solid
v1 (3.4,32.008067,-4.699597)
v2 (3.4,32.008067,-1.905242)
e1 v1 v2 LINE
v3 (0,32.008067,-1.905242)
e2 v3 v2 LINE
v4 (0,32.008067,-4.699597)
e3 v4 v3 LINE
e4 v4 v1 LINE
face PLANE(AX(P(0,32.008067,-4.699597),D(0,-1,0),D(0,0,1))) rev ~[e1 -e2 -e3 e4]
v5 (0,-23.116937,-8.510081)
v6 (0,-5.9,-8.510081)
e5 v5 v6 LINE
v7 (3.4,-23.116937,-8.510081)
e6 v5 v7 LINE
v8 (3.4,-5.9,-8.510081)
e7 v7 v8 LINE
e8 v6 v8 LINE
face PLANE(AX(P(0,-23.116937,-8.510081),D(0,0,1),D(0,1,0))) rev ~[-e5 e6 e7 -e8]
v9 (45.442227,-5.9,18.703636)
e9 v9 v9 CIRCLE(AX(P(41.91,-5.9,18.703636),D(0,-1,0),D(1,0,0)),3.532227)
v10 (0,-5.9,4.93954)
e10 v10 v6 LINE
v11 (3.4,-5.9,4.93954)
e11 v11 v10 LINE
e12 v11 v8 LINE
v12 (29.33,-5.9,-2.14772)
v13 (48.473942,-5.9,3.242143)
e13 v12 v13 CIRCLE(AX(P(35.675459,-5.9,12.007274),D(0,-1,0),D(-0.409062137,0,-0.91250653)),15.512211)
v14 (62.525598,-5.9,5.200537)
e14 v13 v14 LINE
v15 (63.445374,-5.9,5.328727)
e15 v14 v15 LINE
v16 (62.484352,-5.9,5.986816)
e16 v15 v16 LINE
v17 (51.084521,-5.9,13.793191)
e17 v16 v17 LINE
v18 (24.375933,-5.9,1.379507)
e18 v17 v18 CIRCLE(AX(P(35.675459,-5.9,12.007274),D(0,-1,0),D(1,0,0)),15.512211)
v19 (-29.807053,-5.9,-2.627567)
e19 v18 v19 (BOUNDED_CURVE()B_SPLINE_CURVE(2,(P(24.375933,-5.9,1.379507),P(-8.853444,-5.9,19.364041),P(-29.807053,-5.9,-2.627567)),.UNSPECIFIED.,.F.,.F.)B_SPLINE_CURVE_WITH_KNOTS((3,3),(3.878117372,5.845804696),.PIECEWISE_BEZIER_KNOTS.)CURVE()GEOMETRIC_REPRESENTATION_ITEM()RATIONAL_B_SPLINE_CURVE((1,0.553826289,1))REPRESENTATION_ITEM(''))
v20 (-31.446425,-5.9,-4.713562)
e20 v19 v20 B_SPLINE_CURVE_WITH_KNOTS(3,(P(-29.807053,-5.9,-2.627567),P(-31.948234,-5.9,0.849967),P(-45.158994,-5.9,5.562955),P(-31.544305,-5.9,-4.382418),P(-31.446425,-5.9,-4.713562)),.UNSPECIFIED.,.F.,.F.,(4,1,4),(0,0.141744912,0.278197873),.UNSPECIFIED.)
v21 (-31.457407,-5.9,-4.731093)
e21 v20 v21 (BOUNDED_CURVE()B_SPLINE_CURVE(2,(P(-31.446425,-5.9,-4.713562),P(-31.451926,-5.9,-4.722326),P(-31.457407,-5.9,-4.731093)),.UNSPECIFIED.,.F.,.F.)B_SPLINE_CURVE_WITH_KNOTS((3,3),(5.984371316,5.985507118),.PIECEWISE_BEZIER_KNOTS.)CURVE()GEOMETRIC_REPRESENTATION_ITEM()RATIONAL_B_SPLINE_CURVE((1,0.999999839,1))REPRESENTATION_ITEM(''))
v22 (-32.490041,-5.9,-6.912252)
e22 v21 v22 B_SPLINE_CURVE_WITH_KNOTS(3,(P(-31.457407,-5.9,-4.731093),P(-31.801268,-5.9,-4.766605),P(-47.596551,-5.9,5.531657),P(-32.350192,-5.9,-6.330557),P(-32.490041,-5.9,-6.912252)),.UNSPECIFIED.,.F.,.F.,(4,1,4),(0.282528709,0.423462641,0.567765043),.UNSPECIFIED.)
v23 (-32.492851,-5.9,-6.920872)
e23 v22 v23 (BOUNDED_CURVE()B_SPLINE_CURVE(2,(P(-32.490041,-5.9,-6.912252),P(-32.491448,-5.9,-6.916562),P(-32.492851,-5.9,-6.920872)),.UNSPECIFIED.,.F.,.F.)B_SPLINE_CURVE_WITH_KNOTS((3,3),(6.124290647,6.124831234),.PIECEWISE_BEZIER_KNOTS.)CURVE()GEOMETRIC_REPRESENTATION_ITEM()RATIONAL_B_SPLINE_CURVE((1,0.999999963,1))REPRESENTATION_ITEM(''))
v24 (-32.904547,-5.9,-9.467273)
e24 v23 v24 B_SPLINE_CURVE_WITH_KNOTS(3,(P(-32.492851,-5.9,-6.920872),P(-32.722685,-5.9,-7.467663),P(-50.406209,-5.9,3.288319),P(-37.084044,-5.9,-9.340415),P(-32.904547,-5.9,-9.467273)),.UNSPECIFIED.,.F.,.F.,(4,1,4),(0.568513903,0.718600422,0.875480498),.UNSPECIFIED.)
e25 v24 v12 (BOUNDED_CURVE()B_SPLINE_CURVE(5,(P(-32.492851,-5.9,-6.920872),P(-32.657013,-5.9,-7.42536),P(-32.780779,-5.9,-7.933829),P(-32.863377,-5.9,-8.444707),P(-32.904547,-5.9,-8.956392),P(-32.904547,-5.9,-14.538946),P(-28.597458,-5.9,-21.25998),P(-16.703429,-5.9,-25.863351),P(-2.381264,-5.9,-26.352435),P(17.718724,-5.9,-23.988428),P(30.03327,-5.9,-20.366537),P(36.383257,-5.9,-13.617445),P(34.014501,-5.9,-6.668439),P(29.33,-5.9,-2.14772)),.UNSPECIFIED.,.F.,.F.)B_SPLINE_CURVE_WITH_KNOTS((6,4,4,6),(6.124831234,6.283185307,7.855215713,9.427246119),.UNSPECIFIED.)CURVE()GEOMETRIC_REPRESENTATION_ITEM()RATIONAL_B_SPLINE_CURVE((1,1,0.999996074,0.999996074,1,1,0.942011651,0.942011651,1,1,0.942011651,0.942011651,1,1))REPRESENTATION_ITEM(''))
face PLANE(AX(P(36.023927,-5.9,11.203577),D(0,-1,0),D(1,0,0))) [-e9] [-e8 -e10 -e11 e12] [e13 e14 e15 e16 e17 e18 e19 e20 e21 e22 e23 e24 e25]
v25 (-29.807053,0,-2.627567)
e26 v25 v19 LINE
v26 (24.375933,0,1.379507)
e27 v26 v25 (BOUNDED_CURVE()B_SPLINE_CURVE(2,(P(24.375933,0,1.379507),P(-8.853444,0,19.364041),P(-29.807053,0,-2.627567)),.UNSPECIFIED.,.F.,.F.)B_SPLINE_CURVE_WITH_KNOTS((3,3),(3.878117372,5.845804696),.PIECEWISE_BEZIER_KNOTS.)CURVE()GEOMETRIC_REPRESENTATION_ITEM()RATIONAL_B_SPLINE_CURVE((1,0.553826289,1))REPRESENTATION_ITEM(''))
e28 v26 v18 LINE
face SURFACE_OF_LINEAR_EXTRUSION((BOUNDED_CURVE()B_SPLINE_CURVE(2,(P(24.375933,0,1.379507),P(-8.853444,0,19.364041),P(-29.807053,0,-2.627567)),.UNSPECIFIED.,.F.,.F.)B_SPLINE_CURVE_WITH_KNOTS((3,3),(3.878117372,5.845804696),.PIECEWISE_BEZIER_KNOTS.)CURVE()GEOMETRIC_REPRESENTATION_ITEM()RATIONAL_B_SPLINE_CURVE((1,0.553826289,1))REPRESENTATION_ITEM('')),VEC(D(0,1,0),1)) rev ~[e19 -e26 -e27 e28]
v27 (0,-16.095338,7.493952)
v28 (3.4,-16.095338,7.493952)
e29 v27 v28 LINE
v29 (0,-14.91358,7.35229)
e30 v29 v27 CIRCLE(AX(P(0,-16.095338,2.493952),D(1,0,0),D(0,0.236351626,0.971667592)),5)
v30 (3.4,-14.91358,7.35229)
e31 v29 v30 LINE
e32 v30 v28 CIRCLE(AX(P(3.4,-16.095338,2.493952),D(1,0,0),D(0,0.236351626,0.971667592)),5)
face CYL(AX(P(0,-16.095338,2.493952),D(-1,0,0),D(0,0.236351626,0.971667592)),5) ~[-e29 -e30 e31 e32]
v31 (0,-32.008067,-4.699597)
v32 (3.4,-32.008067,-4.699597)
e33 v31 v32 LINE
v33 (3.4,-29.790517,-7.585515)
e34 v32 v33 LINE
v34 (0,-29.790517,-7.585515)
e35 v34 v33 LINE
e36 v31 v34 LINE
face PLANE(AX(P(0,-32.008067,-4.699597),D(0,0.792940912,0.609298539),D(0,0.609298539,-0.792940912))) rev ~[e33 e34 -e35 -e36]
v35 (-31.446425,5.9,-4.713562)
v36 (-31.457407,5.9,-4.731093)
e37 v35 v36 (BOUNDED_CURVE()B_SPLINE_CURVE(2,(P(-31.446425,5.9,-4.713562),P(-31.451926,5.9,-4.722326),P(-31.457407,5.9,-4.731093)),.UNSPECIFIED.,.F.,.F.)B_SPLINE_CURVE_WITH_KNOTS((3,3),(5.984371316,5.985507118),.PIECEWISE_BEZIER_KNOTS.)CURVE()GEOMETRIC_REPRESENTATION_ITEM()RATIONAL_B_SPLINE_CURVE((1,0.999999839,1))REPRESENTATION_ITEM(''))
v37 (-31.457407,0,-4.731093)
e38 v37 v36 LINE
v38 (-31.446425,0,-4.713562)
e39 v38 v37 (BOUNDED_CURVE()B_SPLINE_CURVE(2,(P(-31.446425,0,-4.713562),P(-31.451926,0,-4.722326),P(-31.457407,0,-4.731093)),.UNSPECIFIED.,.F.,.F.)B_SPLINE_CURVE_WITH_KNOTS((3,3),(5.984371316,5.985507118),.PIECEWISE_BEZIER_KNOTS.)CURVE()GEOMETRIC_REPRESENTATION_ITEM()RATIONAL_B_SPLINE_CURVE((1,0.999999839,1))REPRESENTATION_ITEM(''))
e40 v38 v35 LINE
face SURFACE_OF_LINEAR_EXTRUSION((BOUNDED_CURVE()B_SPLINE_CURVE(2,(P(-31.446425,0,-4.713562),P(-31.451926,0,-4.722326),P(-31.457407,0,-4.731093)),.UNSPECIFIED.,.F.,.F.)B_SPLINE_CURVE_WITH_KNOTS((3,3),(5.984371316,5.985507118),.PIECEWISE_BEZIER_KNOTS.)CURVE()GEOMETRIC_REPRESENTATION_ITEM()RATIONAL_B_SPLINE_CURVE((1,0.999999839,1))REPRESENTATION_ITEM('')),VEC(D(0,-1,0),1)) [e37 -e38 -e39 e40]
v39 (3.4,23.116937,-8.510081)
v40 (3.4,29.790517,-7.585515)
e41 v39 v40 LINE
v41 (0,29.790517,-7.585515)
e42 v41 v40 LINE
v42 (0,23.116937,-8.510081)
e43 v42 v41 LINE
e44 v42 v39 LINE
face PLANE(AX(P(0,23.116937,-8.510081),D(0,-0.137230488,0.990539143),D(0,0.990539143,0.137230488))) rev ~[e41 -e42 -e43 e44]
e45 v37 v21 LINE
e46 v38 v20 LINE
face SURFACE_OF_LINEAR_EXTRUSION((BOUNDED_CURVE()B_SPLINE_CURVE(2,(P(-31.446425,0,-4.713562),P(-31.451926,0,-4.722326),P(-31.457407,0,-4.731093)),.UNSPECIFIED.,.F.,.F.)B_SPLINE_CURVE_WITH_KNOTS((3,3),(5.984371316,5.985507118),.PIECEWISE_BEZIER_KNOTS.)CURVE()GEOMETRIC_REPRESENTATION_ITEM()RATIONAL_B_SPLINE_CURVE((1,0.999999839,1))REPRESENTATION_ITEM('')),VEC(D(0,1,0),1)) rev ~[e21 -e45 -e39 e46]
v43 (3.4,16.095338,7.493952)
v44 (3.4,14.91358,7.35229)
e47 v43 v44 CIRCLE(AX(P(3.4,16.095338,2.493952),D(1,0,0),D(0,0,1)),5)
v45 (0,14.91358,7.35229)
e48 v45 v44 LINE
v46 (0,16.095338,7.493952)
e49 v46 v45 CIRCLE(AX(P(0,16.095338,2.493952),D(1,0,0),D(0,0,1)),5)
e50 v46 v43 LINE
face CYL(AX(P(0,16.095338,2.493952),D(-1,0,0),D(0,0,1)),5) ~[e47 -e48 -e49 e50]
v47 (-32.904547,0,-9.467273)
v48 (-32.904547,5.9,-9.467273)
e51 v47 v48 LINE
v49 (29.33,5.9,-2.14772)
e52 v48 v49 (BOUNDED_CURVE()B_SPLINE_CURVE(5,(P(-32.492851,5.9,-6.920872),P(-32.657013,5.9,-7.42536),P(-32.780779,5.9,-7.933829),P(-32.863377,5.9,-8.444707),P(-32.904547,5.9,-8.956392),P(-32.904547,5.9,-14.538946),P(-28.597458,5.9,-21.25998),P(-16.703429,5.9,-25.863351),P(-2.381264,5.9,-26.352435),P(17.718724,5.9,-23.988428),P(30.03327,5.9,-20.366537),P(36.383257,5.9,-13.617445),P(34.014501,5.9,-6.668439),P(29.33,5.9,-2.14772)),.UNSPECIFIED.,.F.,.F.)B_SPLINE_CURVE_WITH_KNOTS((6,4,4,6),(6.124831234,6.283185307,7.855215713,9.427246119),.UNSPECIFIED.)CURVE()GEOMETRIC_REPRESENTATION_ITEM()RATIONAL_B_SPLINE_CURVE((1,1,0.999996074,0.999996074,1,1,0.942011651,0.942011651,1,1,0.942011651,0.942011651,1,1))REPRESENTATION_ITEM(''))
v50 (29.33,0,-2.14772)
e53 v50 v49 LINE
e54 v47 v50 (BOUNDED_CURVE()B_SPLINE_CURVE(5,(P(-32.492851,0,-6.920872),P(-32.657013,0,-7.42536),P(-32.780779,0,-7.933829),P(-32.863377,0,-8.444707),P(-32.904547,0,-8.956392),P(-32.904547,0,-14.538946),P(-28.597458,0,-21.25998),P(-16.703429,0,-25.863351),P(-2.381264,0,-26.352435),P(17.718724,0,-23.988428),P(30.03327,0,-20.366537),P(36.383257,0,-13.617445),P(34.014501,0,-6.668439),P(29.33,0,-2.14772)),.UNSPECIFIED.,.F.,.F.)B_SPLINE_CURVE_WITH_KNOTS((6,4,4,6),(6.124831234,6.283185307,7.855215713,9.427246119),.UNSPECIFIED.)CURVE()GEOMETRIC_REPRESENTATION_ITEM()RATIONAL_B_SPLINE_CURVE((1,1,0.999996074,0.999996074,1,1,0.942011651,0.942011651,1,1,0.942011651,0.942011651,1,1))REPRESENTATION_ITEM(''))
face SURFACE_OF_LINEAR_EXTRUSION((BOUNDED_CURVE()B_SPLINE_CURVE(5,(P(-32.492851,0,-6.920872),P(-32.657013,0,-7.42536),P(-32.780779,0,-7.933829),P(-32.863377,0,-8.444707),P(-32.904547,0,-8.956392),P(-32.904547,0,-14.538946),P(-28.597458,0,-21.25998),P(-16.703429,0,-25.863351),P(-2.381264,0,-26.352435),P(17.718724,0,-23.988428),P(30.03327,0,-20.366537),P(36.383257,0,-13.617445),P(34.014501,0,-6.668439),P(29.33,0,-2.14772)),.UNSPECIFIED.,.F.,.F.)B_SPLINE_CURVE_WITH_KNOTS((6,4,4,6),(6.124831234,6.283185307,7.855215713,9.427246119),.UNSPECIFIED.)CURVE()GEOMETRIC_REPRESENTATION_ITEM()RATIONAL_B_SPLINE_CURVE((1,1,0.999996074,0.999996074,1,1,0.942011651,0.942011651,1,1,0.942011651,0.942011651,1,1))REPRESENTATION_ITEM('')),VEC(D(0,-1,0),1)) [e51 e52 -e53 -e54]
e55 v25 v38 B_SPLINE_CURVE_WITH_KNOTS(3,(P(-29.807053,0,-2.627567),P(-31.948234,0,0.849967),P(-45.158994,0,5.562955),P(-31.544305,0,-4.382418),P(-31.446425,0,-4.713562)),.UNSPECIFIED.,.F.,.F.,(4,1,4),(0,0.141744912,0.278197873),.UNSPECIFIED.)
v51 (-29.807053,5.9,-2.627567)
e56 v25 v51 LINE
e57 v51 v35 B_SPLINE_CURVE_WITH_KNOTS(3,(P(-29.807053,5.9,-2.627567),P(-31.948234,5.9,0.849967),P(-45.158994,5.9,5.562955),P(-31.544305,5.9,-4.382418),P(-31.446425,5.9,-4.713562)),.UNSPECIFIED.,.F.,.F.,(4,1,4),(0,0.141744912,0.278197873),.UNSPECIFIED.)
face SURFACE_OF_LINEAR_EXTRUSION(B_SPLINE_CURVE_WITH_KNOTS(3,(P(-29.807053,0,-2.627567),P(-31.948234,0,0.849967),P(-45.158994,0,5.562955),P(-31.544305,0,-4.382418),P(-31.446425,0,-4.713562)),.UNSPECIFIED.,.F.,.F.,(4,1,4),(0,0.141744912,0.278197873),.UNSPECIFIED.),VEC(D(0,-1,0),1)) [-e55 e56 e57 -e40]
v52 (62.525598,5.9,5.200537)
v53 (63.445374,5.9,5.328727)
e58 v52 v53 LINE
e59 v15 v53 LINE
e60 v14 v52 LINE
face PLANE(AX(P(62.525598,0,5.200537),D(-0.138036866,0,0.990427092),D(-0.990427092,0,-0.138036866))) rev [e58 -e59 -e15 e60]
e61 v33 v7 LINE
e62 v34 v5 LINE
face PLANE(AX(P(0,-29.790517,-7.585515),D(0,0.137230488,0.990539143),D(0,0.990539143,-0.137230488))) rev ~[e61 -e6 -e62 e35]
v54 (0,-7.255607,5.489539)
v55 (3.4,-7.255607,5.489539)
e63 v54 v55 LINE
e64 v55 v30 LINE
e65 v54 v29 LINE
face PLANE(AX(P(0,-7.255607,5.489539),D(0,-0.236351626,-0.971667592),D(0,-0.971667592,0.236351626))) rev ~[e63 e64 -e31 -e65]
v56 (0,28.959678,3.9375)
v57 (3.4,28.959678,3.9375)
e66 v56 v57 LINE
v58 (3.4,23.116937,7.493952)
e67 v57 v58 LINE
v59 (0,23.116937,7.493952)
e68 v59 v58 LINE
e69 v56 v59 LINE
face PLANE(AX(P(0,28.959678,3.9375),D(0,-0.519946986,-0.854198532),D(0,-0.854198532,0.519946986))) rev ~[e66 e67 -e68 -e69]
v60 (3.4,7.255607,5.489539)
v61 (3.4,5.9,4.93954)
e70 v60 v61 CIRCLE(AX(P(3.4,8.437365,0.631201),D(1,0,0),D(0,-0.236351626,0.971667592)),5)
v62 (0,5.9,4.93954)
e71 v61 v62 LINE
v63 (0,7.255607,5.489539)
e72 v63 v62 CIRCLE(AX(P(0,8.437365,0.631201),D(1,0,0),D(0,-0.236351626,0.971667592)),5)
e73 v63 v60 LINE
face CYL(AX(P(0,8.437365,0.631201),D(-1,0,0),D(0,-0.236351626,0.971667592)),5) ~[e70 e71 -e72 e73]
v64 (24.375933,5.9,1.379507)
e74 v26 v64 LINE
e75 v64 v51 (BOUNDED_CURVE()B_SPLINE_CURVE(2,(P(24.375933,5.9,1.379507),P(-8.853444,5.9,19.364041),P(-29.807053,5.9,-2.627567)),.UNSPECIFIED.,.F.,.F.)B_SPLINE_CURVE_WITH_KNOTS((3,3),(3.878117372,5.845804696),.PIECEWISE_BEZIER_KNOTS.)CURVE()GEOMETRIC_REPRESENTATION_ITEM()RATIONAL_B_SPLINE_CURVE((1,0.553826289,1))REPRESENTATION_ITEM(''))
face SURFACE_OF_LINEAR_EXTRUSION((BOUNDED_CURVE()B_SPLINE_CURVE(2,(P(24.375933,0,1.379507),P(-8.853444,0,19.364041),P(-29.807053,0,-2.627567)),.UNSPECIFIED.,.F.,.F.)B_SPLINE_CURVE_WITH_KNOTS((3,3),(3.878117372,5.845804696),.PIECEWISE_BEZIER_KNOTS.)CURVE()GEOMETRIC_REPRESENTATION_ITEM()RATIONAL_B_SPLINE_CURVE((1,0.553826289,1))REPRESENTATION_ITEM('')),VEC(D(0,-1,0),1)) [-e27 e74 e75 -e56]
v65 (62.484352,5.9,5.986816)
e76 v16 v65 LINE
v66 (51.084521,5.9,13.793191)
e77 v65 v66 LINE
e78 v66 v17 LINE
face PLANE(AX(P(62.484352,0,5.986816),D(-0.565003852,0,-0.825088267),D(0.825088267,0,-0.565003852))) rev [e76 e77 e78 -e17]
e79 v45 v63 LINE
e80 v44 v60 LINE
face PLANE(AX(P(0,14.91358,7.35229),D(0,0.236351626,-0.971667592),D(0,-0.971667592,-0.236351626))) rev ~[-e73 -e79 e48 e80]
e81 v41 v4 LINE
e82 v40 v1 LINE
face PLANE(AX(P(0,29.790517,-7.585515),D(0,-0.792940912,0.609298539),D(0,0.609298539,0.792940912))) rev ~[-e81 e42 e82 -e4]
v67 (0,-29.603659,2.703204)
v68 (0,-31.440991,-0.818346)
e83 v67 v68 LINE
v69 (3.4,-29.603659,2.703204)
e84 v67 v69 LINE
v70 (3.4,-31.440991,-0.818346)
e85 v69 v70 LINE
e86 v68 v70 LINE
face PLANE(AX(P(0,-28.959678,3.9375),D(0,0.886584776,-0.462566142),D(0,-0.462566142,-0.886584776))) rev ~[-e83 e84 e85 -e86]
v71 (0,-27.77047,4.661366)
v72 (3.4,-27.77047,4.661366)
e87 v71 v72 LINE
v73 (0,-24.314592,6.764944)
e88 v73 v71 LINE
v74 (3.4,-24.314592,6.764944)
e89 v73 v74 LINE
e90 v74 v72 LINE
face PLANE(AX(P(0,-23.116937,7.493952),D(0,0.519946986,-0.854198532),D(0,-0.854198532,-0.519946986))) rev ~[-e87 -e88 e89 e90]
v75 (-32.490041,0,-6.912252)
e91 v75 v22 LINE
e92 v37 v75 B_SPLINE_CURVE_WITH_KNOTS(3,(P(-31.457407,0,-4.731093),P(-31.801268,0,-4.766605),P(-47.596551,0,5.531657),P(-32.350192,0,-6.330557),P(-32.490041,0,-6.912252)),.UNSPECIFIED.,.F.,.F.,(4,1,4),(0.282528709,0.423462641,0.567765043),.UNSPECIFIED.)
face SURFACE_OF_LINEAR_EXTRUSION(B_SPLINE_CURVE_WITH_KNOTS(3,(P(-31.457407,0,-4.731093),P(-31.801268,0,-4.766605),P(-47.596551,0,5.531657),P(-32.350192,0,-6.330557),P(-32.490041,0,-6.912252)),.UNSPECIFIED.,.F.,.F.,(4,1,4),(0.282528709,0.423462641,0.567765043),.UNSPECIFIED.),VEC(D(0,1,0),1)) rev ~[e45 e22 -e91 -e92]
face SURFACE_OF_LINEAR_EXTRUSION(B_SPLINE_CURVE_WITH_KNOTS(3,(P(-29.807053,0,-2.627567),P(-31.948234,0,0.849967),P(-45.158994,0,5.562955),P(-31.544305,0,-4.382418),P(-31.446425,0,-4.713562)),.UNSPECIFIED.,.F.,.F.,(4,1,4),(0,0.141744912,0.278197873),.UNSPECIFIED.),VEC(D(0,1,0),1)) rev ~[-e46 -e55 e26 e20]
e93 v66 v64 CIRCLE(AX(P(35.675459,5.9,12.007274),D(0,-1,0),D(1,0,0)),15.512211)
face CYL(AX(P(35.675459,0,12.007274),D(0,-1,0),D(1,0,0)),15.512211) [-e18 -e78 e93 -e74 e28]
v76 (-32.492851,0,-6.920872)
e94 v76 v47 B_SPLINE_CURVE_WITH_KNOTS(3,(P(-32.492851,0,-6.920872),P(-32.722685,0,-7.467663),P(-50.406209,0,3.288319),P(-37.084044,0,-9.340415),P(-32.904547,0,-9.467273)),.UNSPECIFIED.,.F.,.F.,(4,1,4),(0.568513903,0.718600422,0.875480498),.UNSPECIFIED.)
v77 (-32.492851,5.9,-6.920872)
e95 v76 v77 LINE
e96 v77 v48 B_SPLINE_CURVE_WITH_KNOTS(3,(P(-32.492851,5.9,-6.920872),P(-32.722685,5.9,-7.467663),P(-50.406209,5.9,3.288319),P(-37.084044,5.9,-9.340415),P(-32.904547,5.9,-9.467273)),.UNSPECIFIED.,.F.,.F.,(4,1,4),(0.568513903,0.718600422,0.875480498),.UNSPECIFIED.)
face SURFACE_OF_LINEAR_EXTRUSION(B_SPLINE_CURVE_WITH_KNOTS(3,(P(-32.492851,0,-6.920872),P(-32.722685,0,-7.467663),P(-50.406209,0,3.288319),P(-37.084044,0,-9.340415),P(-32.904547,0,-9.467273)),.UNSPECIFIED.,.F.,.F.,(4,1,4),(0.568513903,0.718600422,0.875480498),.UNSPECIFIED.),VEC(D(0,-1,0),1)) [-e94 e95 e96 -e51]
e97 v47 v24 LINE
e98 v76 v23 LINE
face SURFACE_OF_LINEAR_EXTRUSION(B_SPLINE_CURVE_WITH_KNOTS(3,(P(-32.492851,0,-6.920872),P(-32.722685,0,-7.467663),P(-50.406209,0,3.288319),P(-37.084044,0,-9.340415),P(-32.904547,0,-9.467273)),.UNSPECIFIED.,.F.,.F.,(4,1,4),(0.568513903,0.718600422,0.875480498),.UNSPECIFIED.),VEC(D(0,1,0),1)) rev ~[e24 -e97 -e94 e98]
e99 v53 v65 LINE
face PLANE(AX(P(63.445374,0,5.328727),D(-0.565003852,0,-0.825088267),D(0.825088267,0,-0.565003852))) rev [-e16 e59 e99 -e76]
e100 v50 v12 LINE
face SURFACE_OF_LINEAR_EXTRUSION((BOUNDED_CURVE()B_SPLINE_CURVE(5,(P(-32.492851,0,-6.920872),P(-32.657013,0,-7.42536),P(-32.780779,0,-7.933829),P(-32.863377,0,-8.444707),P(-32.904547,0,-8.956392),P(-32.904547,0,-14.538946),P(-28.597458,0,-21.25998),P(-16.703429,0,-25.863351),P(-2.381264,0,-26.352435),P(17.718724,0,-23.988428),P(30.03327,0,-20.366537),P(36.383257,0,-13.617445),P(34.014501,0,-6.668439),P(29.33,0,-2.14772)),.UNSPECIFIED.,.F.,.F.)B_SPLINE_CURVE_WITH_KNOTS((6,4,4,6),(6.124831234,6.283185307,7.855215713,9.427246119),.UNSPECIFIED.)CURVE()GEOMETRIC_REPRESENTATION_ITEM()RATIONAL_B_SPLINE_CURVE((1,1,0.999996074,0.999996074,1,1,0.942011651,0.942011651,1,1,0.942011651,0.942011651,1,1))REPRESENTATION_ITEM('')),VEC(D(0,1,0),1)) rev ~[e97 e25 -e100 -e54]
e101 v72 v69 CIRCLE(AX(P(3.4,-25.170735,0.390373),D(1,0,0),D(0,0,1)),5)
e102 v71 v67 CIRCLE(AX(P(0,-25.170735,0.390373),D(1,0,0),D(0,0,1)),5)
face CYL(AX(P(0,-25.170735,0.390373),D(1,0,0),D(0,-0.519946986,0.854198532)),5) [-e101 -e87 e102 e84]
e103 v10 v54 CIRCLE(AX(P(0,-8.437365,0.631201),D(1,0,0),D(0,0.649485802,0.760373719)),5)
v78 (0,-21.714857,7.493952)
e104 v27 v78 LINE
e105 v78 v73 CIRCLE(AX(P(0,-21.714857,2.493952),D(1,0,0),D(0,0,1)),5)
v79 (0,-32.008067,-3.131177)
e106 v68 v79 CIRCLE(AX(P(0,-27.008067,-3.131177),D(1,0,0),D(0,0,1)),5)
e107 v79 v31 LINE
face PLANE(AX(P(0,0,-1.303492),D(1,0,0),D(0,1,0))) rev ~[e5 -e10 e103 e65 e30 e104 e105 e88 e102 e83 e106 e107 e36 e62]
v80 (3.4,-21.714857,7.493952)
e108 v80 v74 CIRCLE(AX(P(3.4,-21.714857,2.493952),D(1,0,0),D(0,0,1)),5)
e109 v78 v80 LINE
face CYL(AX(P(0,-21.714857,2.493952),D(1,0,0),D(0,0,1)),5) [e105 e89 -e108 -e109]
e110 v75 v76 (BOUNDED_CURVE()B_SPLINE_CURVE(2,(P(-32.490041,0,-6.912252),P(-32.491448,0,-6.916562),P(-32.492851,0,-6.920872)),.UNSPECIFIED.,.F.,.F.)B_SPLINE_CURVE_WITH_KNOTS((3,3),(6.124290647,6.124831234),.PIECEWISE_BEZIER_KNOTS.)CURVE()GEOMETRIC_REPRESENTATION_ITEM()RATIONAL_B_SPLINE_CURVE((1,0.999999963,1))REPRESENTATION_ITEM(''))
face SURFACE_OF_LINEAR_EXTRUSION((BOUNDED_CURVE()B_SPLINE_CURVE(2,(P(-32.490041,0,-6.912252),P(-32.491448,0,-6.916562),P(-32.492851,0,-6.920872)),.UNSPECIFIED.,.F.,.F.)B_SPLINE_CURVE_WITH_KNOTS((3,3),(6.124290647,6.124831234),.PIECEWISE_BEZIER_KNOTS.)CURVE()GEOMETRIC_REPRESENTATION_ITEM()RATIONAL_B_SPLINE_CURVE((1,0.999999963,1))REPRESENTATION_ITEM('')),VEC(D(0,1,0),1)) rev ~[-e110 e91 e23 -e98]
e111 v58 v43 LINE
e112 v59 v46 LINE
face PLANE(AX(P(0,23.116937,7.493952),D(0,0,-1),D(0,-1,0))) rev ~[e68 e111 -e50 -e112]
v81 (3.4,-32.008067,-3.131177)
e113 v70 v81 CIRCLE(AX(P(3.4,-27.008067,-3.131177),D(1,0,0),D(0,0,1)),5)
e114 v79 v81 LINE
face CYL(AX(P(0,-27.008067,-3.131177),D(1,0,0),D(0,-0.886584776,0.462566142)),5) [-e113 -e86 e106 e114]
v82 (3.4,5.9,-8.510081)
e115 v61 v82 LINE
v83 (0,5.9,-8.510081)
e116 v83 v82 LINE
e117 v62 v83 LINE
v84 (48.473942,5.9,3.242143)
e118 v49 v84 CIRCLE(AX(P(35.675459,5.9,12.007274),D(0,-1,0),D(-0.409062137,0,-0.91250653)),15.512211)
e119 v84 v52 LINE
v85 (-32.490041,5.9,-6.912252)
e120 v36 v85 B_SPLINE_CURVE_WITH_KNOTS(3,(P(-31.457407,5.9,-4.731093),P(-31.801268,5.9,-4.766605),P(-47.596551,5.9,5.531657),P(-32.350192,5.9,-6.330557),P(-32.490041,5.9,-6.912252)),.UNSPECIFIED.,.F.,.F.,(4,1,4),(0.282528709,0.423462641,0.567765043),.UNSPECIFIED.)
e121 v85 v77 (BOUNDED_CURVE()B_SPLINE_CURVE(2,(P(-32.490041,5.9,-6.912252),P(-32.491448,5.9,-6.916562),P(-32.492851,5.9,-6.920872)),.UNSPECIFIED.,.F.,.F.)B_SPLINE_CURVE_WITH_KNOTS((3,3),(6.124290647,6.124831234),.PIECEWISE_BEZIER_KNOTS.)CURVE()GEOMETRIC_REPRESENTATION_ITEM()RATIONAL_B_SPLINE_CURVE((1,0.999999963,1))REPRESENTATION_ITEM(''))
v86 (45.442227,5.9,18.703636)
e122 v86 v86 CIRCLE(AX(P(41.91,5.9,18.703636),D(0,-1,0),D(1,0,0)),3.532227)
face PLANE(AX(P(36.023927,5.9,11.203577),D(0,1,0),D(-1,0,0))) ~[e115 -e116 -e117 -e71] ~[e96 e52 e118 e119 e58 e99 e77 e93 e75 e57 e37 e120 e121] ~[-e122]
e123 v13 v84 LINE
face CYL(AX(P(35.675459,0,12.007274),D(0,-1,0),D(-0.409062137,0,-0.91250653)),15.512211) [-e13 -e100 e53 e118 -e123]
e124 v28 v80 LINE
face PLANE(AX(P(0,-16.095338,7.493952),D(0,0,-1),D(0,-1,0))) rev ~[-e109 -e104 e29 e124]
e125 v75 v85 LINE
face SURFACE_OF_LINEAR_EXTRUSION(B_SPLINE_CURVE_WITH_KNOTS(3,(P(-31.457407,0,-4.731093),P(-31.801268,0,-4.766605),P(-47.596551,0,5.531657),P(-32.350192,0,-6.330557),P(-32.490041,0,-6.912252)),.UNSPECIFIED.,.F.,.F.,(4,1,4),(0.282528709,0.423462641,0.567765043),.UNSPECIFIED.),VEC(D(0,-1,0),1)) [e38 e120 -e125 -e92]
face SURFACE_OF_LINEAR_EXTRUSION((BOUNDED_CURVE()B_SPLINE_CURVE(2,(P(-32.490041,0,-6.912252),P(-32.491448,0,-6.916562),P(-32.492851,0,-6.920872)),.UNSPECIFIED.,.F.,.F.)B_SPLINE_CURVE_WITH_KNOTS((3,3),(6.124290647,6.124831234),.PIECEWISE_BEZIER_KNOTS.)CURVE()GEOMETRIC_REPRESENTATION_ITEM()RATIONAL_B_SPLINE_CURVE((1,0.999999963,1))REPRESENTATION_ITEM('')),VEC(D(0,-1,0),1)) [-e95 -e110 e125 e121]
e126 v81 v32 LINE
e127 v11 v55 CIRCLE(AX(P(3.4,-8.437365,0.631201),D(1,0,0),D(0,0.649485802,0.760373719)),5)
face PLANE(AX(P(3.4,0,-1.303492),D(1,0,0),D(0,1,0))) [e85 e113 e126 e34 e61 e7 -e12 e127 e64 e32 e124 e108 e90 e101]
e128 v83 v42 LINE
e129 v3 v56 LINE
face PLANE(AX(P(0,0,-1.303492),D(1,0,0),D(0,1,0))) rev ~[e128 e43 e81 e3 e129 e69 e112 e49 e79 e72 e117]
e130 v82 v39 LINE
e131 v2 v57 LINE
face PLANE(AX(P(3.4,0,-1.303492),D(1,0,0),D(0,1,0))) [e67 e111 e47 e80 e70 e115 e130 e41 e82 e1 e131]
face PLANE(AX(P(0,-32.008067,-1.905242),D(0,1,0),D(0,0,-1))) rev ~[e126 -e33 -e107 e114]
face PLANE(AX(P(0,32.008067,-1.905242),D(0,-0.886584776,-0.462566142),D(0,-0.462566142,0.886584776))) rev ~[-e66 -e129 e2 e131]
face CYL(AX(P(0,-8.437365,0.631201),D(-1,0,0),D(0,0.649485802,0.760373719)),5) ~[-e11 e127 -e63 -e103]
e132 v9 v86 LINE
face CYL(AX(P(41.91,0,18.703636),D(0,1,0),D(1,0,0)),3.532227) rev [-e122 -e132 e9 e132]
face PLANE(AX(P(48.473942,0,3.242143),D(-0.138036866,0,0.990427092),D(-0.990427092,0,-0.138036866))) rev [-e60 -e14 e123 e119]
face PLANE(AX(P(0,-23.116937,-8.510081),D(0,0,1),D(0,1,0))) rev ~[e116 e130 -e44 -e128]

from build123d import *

# Parameters (mm, degrees)
F2_DEPTH = 3.4
F0_R     = 3.5322272549
F3_DEPTH = 5.9
F5_R     = 5


with BuildPart() as f2:
    # F1 (on Right) → F2 (new body)
    with BuildSketch(Plane.YZ):
        with BuildLine():
            Line((5.1899361501, 4.4330699), (0, 0))
            Line((0, 0), (-5.1899361501, 4.4330699))
            ThreePointArc((-5.1899361501, 4.4330699), (-6.1606445906, 5.0827789403), (-7.2556070337, 5.4895392649))
            Line((-7.2556070337, 5.4895392649), (-14.9135797825, 7.3522897826))
            ThreePointArc((-14.9135797825, 7.3522897826), (-15.5002285919, 7.4584099911), (-16.0953379116, 7.4939518236))
            Line((-16.0953379116, 7.4939518236), (-23.1169369072, 7.4939518236))
            Line((-23.1169369072, 7.4939518236), (-28.959678486, 3.9375000633))
            Line((-28.959678486, 3.9375000633), (-32.0080667734, -1.9052419811))
            Line((-32.0080667734, -1.9052419811), (-32.0080667734, -4.6995966695))
            Line((-32.0080667734, -4.6995966695), (-29.7905169427, -7.5855152681))
            Line((-29.7905169427, -7.5855152681), (-23.1169369072, -8.5100810975))
            Line((-23.1169369072, -8.5100810975), (-15.750002116, -8.5100810975))
            Line((-15.750002116, -8.5100810975), (-8.8911280036, -8.5100810975))
            Line((-8.8911280036, -8.5100810975), (-3.3024190925, -8.5100810975))
            Line((-3.3024190925, -8.5100810975), (0, -8.5100810975))
            Line((0, -8.5100810975), (3.3024190925, -8.5100810975))
            Line((3.3024190925, -8.5100810975), (8.8911280036, -8.5100810975))
            Line((8.8911280036, -8.5100810975), (15.750002116, -8.5100810975))
            Line((15.750002116, -8.5100810975), (23.1169369072, -8.5100810975))
            Line((23.1169369072, -8.5100810975), (29.7905169427, -7.5855152681))
            Line((29.7905169427, -7.5855152681), (32.0080667734, -4.6995966695))
            Line((32.0080667734, -4.6995966695), (32.0080667734, -1.9052419811))
            Line((32.0080667734, -1.9052419811), (28.959678486, 3.9375000633))
            Line((28.959678486, 3.9375000633), (23.1169369072, 7.4939518236))
            Line((23.1169369072, 7.4939518236), (16.0953379116, 7.4939518236))
            ThreePointArc((16.0953379116, 7.4939518236), (15.5002285919, 7.4584099911), (14.9135797825, 7.3522897826))
            Line((14.9135797825, 7.3522897826), (7.2556070337, 5.4895392649))
            ThreePointArc((7.2556070337, 5.4895392649), (6.1606445906, 5.0827789403), (5.1899361501, 4.4330699))
        make_face()
    extrude(amount=F2_DEPTH)

    # F0 (on Front) → F3 (join)
    with BuildSketch(Plane.XZ):
        with BuildLine():
            ThreePointArc((50.7238964132, 8.2425397257), (51.0712900407, 10.1106775656), (51.1876700084, 12.0072737336))
            ThreePointArc((51.1876700084, 12.0072737336), (51.1618612788, 12.9017204052), (51.0845209695, 13.7931907724))
            ThreePointArc((51.0845209695, 13.7931907724), (29.1373428837, 26.0743183846), (24.3759328436, 1.379507274))
            add(Edge.make_bspline(
                [(29.3300002621, -2.147720467), (27.333914584, -0.2214232297), (24.3759328436, 1.379507274)],
                knots=[3.6120387141, 3.6120387141, 3.6120387141, 3.878117372, 3.878117372, 3.878117372], degree=2, weights=[1, 0.9911633137, 1]))
            ThreePointArc((29.3300002621, -2.147720467), (39.8793900631, -2.9244261965), (48.473942124, 3.2421426902))
            ThreePointArc((48.473942124, 3.2421426902), (49.8216153086, 5.6421379828), (50.7238964132, 8.2425397257))
        make_face()
        with Locations((41.9100001454, 18.703635782)):
            Circle(F0_R, mode=Mode.SUBTRACT)
        with BuildLine():
            ThreePointArc((51.0845209695, 13.7931907724), (51.1618612788, 12.9017204052), (51.1876700084, 12.0072737336))
            ThreePointArc((51.1876700084, 12.0072737336), (51.0712900407, 10.1106775656), (50.7238964132, 8.2425397257))
            Line((50.7238964132, 8.2425397257), (62.4843521348, 5.9868156539))
            Line((62.4843521348, 5.9868156539), (51.0845209695, 13.7931907724))
        make_face()
        with BuildLine():
            Line((62.5255977297, 5.2005367167), (50.7238964132, 8.2425397257))
            ThreePointArc((50.7238964132, 8.2425397257), (49.8216153086, 5.6421379828), (48.473942124, 3.2421426902))
            Line((48.473942124, 3.2421426902), (62.5255977297, 5.2005367167))
        make_face()
        Polygon((62.4843521348, 5.9868156539), (50.7238964132, 8.2425397257), (62.5255977297, 5.2005367167), (63.4453743696, 5.3287269548), align=None)
        with BuildLine():
            add(Edge.make_bspline(
                [(29.3300002621, -2.147720467), (27.333914584, -0.2214232297), (24.3759328436, 1.379507274)],
                knots=[3.6120387141, 3.6120387141, 3.6120387141, 3.878117372, 3.878117372, 3.878117372], degree=2, weights=[1, 0.9911633137, 1]))
            ThreePointArc((24.3759328436, 1.379507274), (26.6784202094, -0.6292606996), (29.3300002621, -2.147720467))
        make_face()
        with BuildLine():
            ThreePointArc((29.3300002621, -2.147720467), (26.6784202094, -0.6292606996), (24.3759328436, 1.379507274))
            add(Edge.make_bspline(
                [(24.3759328436, 1.379507274), (-8.8534444598, 19.3640414648), (-29.8070528208, -2.6275665701)],
                knots=[3.878117372, 3.878117372, 3.878117372, 5.8458046955, 5.8458046955, 5.8458046955], degree=2, weights=[1, 0.553826289, 1]))
            add(Edge.make_bspline(
                [(-32.9045467079, -9.4672730193), (-29.5871785013, -9.567963443), (-27.9260766744, -5.6824967661), (-29.8070528208, -2.6275665701)],
                knots=[0.8754804976, 0.8754804976, 0.8754804976, 0.8754804976, 1, 1, 1, 1], degree=3))
            add(Edge.make_bspline(
                [(-32.9045467079, -9.4672730193), (-32.9045467079, -29.9423508925), (7.668729702, -25.1704317036), (48.2420061119, -20.3985125147), (29.3300002621, -2.147720467)],
                knots=[0, 0, 0, 1.8060193571, 1.8060193571, 3.6120387141, 3.6120387141, 3.6120387141], degree=2, weights=[1, 0.6192495943, 1, 0.6192495943, 1]))
        make_face()
        with BuildLine():
            add(Edge.make_bspline(
                [(-32.9045467079, -9.4672730193), (-29.5871785013, -9.567963443), (-27.9260766744, -5.6824967661), (-29.8070528208, -2.6275665701)],
                knots=[0.8754804976, 0.8754804976, 0.8754804976, 0.8754804976, 1, 1, 1, 1], degree=3))
            add(Edge.make_bspline(
                [(-29.8070528208, -2.6275665701), (-30.7742242797, -3.6426497605), (-31.4464247132, -4.7135619811)],
                knots=[5.8458046955, 5.8458046955, 5.8458046955, 5.9843713156, 5.9843713156, 5.9843713156], degree=2, weights=[1, 0.9976008714, 1]))
            add(Edge.make_bspline(
                [(-31.4464247132, -4.7135619811), (-31.4433181339, -4.7240720501), (-31.4468398493, -4.730001777), (-31.4574065674, -4.7310930395)],
                knots=[0.2781978727, 0.2781978727, 0.2781978727, 0.2781978727, 0.2825287093, 0.2825287093, 0.2825287093, 0.2825287093], degree=3))
            add(Edge.make_bspline(
                [(-31.4574065674, -4.7310930395), (-32.1281797541, -5.804061611), (-32.4900409288, -6.9122519104)],
                knots=[5.9855071177, 5.9855071177, 5.9855071177, 6.1242906473, 6.1242906473, 6.1242906473], degree=2, weights=[1, 0.9975933574, 1]))
            add(Edge.make_bspline(
                [(-32.4900409288, -6.9122519104), (-32.490766677, -6.9152706245), (-32.4917039163, -6.9181433868), (-32.4928506806, -6.9208716131)],
                knots=[0.5677650433, 0.5677650433, 0.5677650433, 0.5677650433, 0.5685139027, 0.5685139027, 0.5685139027, 0.5685139027], degree=3))
            add(Edge.make_bspline(
                [(-32.4928506806, -6.9208716131), (-32.9045467079, -8.1860571398), (-32.9045467079, -9.4672730193)],
                knots=[6.1248312335, 6.1248312335, 6.1248312335, 6.2831853072, 6.2831853072, 6.2831853072], degree=2, weights=[1, 0.9968671356, 1]))
        make_face()
        with BuildLine():
            add(Edge.make_bspline(
                [(-29.8070528208, -2.6275665701), (-30.7742242797, -3.6426497605), (-31.4464247132, -4.7135619811)],
                knots=[5.8458046955, 5.8458046955, 5.8458046955, 5.9843713156, 5.9843713156, 5.9843713156], degree=2, weights=[1, 0.9976008714, 1]))
            add(Edge.make_bspline(
                [(-29.8070528208, -2.6275665701), (-31.9482338648, 0.8499674958), (-45.1589938624, 5.5629545939), (-31.5443046351, -4.3824180992), (-31.4464247132, -4.7135619811)],
                knots=[0, 0, 0, 0, 0.1417449119, 0.2781978727, 0.2781978727, 0.2781978727, 0.2781978727], degree=3))
        make_face()
        with BuildLine():
            add(Edge.make_bspline(
                [(-32.4928506806, -6.9208716131), (-32.72268534, -7.4676631063), (-50.4062087574, 3.2883189421), (-37.084044413, -9.3404148085), (-32.9045467079, -9.4672730193)],
                knots=[0.5685139027, 0.5685139027, 0.5685139027, 0.5685139027, 0.718600422, 0.8754804976, 0.8754804976, 0.8754804976, 0.8754804976], degree=3))
            add(Edge.make_bspline(
                [(-32.4928506806, -6.9208716131), (-32.9045467079, -8.1860571398), (-32.9045467079, -9.4672730193)],
                knots=[6.1248312335, 6.1248312335, 6.1248312335, 6.2831853072, 6.2831853072, 6.2831853072], degree=2, weights=[1, 0.9968671356, 1]))
        make_face()
        with BuildLine():
            add(Edge.make_bspline(
                [(-31.4464247132, -4.7135619811), (-31.4433181339, -4.7240720501), (-31.4468398493, -4.730001777), (-31.4574065674, -4.7310930395)],
                knots=[0.2781978727, 0.2781978727, 0.2781978727, 0.2781978727, 0.2825287093, 0.2825287093, 0.2825287093, 0.2825287093], degree=3))
            add(Edge.make_bspline(
                [(-31.4464247132, -4.7135619811), (-31.4519257839, -4.72232598), (-31.4574065674, -4.7310930395)],
                knots=[5.9843713156, 5.9843713156, 5.9843713156, 5.9855071177, 5.9855071177, 5.9855071177], degree=2, weights=[1, 0.9999998387, 1]))
        make_face()
        with BuildLine():
            add(Edge.make_bspline(
                [(-32.4900409288, -6.9122519104), (-32.4914481785, -6.9165615754), (-32.4928506806, -6.9208716131)],
                knots=[6.1242906473, 6.1242906473, 6.1242906473, 6.1248312335, 6.1248312335, 6.1248312335], degree=2, weights=[1, 0.9999999635, 1]))
            add(Edge.make_bspline(
                [(-32.4900409288, -6.9122519104), (-32.490766677, -6.9152706245), (-32.4917039163, -6.9181433868), (-32.4928506806, -6.9208716131)],
                knots=[0.5677650433, 0.5677650433, 0.5677650433, 0.5677650433, 0.5685139027, 0.5685139027, 0.5685139027, 0.5685139027], degree=3))
        make_face()
        with BuildLine():
            add(Edge.make_bspline(
                [(-31.4574065674, -4.7310930395), (-32.1281797541, -5.804061611), (-32.4900409288, -6.9122519104)],
                knots=[5.9855071177, 5.9855071177, 5.9855071177, 6.1242906473, 6.1242906473, 6.1242906473], degree=2, weights=[1, 0.9975933574, 1]))
            add(Edge.make_bspline(
                [(-31.4574065674, -4.7310930395), (-31.8012683369, -4.7666048664), (-47.5965511675, 5.5316568956), (-32.3501919761, -6.33055706), (-32.4900409288, -6.9122519104)],
                knots=[0.2825287093, 0.2825287093, 0.2825287093, 0.2825287093, 0.4234626411, 0.5677650433, 0.5677650433, 0.5677650433, 0.5677650433], degree=3))
        make_face()
    extrude(amount=F3_DEPTH)

    # F4: F2 across plane


with BuildPart() as f2_1:
    add(f2.part)
    add(f2.part.mirror(Plane.XZ))

    # F5
    f5_edges = [f2_1.edges().sort_by_distance(p)[0] for p in [
        (1.7, -28.959678, 3.9375),
        (1.7, -23.116937, 7.493952),
        (1.7, -16.095338, 7.493952),
        (1.7, -32.008067, -1.905242),
    ]]
    fillet(f5_edges, radius=F5_R)


solid = f2_1.part
